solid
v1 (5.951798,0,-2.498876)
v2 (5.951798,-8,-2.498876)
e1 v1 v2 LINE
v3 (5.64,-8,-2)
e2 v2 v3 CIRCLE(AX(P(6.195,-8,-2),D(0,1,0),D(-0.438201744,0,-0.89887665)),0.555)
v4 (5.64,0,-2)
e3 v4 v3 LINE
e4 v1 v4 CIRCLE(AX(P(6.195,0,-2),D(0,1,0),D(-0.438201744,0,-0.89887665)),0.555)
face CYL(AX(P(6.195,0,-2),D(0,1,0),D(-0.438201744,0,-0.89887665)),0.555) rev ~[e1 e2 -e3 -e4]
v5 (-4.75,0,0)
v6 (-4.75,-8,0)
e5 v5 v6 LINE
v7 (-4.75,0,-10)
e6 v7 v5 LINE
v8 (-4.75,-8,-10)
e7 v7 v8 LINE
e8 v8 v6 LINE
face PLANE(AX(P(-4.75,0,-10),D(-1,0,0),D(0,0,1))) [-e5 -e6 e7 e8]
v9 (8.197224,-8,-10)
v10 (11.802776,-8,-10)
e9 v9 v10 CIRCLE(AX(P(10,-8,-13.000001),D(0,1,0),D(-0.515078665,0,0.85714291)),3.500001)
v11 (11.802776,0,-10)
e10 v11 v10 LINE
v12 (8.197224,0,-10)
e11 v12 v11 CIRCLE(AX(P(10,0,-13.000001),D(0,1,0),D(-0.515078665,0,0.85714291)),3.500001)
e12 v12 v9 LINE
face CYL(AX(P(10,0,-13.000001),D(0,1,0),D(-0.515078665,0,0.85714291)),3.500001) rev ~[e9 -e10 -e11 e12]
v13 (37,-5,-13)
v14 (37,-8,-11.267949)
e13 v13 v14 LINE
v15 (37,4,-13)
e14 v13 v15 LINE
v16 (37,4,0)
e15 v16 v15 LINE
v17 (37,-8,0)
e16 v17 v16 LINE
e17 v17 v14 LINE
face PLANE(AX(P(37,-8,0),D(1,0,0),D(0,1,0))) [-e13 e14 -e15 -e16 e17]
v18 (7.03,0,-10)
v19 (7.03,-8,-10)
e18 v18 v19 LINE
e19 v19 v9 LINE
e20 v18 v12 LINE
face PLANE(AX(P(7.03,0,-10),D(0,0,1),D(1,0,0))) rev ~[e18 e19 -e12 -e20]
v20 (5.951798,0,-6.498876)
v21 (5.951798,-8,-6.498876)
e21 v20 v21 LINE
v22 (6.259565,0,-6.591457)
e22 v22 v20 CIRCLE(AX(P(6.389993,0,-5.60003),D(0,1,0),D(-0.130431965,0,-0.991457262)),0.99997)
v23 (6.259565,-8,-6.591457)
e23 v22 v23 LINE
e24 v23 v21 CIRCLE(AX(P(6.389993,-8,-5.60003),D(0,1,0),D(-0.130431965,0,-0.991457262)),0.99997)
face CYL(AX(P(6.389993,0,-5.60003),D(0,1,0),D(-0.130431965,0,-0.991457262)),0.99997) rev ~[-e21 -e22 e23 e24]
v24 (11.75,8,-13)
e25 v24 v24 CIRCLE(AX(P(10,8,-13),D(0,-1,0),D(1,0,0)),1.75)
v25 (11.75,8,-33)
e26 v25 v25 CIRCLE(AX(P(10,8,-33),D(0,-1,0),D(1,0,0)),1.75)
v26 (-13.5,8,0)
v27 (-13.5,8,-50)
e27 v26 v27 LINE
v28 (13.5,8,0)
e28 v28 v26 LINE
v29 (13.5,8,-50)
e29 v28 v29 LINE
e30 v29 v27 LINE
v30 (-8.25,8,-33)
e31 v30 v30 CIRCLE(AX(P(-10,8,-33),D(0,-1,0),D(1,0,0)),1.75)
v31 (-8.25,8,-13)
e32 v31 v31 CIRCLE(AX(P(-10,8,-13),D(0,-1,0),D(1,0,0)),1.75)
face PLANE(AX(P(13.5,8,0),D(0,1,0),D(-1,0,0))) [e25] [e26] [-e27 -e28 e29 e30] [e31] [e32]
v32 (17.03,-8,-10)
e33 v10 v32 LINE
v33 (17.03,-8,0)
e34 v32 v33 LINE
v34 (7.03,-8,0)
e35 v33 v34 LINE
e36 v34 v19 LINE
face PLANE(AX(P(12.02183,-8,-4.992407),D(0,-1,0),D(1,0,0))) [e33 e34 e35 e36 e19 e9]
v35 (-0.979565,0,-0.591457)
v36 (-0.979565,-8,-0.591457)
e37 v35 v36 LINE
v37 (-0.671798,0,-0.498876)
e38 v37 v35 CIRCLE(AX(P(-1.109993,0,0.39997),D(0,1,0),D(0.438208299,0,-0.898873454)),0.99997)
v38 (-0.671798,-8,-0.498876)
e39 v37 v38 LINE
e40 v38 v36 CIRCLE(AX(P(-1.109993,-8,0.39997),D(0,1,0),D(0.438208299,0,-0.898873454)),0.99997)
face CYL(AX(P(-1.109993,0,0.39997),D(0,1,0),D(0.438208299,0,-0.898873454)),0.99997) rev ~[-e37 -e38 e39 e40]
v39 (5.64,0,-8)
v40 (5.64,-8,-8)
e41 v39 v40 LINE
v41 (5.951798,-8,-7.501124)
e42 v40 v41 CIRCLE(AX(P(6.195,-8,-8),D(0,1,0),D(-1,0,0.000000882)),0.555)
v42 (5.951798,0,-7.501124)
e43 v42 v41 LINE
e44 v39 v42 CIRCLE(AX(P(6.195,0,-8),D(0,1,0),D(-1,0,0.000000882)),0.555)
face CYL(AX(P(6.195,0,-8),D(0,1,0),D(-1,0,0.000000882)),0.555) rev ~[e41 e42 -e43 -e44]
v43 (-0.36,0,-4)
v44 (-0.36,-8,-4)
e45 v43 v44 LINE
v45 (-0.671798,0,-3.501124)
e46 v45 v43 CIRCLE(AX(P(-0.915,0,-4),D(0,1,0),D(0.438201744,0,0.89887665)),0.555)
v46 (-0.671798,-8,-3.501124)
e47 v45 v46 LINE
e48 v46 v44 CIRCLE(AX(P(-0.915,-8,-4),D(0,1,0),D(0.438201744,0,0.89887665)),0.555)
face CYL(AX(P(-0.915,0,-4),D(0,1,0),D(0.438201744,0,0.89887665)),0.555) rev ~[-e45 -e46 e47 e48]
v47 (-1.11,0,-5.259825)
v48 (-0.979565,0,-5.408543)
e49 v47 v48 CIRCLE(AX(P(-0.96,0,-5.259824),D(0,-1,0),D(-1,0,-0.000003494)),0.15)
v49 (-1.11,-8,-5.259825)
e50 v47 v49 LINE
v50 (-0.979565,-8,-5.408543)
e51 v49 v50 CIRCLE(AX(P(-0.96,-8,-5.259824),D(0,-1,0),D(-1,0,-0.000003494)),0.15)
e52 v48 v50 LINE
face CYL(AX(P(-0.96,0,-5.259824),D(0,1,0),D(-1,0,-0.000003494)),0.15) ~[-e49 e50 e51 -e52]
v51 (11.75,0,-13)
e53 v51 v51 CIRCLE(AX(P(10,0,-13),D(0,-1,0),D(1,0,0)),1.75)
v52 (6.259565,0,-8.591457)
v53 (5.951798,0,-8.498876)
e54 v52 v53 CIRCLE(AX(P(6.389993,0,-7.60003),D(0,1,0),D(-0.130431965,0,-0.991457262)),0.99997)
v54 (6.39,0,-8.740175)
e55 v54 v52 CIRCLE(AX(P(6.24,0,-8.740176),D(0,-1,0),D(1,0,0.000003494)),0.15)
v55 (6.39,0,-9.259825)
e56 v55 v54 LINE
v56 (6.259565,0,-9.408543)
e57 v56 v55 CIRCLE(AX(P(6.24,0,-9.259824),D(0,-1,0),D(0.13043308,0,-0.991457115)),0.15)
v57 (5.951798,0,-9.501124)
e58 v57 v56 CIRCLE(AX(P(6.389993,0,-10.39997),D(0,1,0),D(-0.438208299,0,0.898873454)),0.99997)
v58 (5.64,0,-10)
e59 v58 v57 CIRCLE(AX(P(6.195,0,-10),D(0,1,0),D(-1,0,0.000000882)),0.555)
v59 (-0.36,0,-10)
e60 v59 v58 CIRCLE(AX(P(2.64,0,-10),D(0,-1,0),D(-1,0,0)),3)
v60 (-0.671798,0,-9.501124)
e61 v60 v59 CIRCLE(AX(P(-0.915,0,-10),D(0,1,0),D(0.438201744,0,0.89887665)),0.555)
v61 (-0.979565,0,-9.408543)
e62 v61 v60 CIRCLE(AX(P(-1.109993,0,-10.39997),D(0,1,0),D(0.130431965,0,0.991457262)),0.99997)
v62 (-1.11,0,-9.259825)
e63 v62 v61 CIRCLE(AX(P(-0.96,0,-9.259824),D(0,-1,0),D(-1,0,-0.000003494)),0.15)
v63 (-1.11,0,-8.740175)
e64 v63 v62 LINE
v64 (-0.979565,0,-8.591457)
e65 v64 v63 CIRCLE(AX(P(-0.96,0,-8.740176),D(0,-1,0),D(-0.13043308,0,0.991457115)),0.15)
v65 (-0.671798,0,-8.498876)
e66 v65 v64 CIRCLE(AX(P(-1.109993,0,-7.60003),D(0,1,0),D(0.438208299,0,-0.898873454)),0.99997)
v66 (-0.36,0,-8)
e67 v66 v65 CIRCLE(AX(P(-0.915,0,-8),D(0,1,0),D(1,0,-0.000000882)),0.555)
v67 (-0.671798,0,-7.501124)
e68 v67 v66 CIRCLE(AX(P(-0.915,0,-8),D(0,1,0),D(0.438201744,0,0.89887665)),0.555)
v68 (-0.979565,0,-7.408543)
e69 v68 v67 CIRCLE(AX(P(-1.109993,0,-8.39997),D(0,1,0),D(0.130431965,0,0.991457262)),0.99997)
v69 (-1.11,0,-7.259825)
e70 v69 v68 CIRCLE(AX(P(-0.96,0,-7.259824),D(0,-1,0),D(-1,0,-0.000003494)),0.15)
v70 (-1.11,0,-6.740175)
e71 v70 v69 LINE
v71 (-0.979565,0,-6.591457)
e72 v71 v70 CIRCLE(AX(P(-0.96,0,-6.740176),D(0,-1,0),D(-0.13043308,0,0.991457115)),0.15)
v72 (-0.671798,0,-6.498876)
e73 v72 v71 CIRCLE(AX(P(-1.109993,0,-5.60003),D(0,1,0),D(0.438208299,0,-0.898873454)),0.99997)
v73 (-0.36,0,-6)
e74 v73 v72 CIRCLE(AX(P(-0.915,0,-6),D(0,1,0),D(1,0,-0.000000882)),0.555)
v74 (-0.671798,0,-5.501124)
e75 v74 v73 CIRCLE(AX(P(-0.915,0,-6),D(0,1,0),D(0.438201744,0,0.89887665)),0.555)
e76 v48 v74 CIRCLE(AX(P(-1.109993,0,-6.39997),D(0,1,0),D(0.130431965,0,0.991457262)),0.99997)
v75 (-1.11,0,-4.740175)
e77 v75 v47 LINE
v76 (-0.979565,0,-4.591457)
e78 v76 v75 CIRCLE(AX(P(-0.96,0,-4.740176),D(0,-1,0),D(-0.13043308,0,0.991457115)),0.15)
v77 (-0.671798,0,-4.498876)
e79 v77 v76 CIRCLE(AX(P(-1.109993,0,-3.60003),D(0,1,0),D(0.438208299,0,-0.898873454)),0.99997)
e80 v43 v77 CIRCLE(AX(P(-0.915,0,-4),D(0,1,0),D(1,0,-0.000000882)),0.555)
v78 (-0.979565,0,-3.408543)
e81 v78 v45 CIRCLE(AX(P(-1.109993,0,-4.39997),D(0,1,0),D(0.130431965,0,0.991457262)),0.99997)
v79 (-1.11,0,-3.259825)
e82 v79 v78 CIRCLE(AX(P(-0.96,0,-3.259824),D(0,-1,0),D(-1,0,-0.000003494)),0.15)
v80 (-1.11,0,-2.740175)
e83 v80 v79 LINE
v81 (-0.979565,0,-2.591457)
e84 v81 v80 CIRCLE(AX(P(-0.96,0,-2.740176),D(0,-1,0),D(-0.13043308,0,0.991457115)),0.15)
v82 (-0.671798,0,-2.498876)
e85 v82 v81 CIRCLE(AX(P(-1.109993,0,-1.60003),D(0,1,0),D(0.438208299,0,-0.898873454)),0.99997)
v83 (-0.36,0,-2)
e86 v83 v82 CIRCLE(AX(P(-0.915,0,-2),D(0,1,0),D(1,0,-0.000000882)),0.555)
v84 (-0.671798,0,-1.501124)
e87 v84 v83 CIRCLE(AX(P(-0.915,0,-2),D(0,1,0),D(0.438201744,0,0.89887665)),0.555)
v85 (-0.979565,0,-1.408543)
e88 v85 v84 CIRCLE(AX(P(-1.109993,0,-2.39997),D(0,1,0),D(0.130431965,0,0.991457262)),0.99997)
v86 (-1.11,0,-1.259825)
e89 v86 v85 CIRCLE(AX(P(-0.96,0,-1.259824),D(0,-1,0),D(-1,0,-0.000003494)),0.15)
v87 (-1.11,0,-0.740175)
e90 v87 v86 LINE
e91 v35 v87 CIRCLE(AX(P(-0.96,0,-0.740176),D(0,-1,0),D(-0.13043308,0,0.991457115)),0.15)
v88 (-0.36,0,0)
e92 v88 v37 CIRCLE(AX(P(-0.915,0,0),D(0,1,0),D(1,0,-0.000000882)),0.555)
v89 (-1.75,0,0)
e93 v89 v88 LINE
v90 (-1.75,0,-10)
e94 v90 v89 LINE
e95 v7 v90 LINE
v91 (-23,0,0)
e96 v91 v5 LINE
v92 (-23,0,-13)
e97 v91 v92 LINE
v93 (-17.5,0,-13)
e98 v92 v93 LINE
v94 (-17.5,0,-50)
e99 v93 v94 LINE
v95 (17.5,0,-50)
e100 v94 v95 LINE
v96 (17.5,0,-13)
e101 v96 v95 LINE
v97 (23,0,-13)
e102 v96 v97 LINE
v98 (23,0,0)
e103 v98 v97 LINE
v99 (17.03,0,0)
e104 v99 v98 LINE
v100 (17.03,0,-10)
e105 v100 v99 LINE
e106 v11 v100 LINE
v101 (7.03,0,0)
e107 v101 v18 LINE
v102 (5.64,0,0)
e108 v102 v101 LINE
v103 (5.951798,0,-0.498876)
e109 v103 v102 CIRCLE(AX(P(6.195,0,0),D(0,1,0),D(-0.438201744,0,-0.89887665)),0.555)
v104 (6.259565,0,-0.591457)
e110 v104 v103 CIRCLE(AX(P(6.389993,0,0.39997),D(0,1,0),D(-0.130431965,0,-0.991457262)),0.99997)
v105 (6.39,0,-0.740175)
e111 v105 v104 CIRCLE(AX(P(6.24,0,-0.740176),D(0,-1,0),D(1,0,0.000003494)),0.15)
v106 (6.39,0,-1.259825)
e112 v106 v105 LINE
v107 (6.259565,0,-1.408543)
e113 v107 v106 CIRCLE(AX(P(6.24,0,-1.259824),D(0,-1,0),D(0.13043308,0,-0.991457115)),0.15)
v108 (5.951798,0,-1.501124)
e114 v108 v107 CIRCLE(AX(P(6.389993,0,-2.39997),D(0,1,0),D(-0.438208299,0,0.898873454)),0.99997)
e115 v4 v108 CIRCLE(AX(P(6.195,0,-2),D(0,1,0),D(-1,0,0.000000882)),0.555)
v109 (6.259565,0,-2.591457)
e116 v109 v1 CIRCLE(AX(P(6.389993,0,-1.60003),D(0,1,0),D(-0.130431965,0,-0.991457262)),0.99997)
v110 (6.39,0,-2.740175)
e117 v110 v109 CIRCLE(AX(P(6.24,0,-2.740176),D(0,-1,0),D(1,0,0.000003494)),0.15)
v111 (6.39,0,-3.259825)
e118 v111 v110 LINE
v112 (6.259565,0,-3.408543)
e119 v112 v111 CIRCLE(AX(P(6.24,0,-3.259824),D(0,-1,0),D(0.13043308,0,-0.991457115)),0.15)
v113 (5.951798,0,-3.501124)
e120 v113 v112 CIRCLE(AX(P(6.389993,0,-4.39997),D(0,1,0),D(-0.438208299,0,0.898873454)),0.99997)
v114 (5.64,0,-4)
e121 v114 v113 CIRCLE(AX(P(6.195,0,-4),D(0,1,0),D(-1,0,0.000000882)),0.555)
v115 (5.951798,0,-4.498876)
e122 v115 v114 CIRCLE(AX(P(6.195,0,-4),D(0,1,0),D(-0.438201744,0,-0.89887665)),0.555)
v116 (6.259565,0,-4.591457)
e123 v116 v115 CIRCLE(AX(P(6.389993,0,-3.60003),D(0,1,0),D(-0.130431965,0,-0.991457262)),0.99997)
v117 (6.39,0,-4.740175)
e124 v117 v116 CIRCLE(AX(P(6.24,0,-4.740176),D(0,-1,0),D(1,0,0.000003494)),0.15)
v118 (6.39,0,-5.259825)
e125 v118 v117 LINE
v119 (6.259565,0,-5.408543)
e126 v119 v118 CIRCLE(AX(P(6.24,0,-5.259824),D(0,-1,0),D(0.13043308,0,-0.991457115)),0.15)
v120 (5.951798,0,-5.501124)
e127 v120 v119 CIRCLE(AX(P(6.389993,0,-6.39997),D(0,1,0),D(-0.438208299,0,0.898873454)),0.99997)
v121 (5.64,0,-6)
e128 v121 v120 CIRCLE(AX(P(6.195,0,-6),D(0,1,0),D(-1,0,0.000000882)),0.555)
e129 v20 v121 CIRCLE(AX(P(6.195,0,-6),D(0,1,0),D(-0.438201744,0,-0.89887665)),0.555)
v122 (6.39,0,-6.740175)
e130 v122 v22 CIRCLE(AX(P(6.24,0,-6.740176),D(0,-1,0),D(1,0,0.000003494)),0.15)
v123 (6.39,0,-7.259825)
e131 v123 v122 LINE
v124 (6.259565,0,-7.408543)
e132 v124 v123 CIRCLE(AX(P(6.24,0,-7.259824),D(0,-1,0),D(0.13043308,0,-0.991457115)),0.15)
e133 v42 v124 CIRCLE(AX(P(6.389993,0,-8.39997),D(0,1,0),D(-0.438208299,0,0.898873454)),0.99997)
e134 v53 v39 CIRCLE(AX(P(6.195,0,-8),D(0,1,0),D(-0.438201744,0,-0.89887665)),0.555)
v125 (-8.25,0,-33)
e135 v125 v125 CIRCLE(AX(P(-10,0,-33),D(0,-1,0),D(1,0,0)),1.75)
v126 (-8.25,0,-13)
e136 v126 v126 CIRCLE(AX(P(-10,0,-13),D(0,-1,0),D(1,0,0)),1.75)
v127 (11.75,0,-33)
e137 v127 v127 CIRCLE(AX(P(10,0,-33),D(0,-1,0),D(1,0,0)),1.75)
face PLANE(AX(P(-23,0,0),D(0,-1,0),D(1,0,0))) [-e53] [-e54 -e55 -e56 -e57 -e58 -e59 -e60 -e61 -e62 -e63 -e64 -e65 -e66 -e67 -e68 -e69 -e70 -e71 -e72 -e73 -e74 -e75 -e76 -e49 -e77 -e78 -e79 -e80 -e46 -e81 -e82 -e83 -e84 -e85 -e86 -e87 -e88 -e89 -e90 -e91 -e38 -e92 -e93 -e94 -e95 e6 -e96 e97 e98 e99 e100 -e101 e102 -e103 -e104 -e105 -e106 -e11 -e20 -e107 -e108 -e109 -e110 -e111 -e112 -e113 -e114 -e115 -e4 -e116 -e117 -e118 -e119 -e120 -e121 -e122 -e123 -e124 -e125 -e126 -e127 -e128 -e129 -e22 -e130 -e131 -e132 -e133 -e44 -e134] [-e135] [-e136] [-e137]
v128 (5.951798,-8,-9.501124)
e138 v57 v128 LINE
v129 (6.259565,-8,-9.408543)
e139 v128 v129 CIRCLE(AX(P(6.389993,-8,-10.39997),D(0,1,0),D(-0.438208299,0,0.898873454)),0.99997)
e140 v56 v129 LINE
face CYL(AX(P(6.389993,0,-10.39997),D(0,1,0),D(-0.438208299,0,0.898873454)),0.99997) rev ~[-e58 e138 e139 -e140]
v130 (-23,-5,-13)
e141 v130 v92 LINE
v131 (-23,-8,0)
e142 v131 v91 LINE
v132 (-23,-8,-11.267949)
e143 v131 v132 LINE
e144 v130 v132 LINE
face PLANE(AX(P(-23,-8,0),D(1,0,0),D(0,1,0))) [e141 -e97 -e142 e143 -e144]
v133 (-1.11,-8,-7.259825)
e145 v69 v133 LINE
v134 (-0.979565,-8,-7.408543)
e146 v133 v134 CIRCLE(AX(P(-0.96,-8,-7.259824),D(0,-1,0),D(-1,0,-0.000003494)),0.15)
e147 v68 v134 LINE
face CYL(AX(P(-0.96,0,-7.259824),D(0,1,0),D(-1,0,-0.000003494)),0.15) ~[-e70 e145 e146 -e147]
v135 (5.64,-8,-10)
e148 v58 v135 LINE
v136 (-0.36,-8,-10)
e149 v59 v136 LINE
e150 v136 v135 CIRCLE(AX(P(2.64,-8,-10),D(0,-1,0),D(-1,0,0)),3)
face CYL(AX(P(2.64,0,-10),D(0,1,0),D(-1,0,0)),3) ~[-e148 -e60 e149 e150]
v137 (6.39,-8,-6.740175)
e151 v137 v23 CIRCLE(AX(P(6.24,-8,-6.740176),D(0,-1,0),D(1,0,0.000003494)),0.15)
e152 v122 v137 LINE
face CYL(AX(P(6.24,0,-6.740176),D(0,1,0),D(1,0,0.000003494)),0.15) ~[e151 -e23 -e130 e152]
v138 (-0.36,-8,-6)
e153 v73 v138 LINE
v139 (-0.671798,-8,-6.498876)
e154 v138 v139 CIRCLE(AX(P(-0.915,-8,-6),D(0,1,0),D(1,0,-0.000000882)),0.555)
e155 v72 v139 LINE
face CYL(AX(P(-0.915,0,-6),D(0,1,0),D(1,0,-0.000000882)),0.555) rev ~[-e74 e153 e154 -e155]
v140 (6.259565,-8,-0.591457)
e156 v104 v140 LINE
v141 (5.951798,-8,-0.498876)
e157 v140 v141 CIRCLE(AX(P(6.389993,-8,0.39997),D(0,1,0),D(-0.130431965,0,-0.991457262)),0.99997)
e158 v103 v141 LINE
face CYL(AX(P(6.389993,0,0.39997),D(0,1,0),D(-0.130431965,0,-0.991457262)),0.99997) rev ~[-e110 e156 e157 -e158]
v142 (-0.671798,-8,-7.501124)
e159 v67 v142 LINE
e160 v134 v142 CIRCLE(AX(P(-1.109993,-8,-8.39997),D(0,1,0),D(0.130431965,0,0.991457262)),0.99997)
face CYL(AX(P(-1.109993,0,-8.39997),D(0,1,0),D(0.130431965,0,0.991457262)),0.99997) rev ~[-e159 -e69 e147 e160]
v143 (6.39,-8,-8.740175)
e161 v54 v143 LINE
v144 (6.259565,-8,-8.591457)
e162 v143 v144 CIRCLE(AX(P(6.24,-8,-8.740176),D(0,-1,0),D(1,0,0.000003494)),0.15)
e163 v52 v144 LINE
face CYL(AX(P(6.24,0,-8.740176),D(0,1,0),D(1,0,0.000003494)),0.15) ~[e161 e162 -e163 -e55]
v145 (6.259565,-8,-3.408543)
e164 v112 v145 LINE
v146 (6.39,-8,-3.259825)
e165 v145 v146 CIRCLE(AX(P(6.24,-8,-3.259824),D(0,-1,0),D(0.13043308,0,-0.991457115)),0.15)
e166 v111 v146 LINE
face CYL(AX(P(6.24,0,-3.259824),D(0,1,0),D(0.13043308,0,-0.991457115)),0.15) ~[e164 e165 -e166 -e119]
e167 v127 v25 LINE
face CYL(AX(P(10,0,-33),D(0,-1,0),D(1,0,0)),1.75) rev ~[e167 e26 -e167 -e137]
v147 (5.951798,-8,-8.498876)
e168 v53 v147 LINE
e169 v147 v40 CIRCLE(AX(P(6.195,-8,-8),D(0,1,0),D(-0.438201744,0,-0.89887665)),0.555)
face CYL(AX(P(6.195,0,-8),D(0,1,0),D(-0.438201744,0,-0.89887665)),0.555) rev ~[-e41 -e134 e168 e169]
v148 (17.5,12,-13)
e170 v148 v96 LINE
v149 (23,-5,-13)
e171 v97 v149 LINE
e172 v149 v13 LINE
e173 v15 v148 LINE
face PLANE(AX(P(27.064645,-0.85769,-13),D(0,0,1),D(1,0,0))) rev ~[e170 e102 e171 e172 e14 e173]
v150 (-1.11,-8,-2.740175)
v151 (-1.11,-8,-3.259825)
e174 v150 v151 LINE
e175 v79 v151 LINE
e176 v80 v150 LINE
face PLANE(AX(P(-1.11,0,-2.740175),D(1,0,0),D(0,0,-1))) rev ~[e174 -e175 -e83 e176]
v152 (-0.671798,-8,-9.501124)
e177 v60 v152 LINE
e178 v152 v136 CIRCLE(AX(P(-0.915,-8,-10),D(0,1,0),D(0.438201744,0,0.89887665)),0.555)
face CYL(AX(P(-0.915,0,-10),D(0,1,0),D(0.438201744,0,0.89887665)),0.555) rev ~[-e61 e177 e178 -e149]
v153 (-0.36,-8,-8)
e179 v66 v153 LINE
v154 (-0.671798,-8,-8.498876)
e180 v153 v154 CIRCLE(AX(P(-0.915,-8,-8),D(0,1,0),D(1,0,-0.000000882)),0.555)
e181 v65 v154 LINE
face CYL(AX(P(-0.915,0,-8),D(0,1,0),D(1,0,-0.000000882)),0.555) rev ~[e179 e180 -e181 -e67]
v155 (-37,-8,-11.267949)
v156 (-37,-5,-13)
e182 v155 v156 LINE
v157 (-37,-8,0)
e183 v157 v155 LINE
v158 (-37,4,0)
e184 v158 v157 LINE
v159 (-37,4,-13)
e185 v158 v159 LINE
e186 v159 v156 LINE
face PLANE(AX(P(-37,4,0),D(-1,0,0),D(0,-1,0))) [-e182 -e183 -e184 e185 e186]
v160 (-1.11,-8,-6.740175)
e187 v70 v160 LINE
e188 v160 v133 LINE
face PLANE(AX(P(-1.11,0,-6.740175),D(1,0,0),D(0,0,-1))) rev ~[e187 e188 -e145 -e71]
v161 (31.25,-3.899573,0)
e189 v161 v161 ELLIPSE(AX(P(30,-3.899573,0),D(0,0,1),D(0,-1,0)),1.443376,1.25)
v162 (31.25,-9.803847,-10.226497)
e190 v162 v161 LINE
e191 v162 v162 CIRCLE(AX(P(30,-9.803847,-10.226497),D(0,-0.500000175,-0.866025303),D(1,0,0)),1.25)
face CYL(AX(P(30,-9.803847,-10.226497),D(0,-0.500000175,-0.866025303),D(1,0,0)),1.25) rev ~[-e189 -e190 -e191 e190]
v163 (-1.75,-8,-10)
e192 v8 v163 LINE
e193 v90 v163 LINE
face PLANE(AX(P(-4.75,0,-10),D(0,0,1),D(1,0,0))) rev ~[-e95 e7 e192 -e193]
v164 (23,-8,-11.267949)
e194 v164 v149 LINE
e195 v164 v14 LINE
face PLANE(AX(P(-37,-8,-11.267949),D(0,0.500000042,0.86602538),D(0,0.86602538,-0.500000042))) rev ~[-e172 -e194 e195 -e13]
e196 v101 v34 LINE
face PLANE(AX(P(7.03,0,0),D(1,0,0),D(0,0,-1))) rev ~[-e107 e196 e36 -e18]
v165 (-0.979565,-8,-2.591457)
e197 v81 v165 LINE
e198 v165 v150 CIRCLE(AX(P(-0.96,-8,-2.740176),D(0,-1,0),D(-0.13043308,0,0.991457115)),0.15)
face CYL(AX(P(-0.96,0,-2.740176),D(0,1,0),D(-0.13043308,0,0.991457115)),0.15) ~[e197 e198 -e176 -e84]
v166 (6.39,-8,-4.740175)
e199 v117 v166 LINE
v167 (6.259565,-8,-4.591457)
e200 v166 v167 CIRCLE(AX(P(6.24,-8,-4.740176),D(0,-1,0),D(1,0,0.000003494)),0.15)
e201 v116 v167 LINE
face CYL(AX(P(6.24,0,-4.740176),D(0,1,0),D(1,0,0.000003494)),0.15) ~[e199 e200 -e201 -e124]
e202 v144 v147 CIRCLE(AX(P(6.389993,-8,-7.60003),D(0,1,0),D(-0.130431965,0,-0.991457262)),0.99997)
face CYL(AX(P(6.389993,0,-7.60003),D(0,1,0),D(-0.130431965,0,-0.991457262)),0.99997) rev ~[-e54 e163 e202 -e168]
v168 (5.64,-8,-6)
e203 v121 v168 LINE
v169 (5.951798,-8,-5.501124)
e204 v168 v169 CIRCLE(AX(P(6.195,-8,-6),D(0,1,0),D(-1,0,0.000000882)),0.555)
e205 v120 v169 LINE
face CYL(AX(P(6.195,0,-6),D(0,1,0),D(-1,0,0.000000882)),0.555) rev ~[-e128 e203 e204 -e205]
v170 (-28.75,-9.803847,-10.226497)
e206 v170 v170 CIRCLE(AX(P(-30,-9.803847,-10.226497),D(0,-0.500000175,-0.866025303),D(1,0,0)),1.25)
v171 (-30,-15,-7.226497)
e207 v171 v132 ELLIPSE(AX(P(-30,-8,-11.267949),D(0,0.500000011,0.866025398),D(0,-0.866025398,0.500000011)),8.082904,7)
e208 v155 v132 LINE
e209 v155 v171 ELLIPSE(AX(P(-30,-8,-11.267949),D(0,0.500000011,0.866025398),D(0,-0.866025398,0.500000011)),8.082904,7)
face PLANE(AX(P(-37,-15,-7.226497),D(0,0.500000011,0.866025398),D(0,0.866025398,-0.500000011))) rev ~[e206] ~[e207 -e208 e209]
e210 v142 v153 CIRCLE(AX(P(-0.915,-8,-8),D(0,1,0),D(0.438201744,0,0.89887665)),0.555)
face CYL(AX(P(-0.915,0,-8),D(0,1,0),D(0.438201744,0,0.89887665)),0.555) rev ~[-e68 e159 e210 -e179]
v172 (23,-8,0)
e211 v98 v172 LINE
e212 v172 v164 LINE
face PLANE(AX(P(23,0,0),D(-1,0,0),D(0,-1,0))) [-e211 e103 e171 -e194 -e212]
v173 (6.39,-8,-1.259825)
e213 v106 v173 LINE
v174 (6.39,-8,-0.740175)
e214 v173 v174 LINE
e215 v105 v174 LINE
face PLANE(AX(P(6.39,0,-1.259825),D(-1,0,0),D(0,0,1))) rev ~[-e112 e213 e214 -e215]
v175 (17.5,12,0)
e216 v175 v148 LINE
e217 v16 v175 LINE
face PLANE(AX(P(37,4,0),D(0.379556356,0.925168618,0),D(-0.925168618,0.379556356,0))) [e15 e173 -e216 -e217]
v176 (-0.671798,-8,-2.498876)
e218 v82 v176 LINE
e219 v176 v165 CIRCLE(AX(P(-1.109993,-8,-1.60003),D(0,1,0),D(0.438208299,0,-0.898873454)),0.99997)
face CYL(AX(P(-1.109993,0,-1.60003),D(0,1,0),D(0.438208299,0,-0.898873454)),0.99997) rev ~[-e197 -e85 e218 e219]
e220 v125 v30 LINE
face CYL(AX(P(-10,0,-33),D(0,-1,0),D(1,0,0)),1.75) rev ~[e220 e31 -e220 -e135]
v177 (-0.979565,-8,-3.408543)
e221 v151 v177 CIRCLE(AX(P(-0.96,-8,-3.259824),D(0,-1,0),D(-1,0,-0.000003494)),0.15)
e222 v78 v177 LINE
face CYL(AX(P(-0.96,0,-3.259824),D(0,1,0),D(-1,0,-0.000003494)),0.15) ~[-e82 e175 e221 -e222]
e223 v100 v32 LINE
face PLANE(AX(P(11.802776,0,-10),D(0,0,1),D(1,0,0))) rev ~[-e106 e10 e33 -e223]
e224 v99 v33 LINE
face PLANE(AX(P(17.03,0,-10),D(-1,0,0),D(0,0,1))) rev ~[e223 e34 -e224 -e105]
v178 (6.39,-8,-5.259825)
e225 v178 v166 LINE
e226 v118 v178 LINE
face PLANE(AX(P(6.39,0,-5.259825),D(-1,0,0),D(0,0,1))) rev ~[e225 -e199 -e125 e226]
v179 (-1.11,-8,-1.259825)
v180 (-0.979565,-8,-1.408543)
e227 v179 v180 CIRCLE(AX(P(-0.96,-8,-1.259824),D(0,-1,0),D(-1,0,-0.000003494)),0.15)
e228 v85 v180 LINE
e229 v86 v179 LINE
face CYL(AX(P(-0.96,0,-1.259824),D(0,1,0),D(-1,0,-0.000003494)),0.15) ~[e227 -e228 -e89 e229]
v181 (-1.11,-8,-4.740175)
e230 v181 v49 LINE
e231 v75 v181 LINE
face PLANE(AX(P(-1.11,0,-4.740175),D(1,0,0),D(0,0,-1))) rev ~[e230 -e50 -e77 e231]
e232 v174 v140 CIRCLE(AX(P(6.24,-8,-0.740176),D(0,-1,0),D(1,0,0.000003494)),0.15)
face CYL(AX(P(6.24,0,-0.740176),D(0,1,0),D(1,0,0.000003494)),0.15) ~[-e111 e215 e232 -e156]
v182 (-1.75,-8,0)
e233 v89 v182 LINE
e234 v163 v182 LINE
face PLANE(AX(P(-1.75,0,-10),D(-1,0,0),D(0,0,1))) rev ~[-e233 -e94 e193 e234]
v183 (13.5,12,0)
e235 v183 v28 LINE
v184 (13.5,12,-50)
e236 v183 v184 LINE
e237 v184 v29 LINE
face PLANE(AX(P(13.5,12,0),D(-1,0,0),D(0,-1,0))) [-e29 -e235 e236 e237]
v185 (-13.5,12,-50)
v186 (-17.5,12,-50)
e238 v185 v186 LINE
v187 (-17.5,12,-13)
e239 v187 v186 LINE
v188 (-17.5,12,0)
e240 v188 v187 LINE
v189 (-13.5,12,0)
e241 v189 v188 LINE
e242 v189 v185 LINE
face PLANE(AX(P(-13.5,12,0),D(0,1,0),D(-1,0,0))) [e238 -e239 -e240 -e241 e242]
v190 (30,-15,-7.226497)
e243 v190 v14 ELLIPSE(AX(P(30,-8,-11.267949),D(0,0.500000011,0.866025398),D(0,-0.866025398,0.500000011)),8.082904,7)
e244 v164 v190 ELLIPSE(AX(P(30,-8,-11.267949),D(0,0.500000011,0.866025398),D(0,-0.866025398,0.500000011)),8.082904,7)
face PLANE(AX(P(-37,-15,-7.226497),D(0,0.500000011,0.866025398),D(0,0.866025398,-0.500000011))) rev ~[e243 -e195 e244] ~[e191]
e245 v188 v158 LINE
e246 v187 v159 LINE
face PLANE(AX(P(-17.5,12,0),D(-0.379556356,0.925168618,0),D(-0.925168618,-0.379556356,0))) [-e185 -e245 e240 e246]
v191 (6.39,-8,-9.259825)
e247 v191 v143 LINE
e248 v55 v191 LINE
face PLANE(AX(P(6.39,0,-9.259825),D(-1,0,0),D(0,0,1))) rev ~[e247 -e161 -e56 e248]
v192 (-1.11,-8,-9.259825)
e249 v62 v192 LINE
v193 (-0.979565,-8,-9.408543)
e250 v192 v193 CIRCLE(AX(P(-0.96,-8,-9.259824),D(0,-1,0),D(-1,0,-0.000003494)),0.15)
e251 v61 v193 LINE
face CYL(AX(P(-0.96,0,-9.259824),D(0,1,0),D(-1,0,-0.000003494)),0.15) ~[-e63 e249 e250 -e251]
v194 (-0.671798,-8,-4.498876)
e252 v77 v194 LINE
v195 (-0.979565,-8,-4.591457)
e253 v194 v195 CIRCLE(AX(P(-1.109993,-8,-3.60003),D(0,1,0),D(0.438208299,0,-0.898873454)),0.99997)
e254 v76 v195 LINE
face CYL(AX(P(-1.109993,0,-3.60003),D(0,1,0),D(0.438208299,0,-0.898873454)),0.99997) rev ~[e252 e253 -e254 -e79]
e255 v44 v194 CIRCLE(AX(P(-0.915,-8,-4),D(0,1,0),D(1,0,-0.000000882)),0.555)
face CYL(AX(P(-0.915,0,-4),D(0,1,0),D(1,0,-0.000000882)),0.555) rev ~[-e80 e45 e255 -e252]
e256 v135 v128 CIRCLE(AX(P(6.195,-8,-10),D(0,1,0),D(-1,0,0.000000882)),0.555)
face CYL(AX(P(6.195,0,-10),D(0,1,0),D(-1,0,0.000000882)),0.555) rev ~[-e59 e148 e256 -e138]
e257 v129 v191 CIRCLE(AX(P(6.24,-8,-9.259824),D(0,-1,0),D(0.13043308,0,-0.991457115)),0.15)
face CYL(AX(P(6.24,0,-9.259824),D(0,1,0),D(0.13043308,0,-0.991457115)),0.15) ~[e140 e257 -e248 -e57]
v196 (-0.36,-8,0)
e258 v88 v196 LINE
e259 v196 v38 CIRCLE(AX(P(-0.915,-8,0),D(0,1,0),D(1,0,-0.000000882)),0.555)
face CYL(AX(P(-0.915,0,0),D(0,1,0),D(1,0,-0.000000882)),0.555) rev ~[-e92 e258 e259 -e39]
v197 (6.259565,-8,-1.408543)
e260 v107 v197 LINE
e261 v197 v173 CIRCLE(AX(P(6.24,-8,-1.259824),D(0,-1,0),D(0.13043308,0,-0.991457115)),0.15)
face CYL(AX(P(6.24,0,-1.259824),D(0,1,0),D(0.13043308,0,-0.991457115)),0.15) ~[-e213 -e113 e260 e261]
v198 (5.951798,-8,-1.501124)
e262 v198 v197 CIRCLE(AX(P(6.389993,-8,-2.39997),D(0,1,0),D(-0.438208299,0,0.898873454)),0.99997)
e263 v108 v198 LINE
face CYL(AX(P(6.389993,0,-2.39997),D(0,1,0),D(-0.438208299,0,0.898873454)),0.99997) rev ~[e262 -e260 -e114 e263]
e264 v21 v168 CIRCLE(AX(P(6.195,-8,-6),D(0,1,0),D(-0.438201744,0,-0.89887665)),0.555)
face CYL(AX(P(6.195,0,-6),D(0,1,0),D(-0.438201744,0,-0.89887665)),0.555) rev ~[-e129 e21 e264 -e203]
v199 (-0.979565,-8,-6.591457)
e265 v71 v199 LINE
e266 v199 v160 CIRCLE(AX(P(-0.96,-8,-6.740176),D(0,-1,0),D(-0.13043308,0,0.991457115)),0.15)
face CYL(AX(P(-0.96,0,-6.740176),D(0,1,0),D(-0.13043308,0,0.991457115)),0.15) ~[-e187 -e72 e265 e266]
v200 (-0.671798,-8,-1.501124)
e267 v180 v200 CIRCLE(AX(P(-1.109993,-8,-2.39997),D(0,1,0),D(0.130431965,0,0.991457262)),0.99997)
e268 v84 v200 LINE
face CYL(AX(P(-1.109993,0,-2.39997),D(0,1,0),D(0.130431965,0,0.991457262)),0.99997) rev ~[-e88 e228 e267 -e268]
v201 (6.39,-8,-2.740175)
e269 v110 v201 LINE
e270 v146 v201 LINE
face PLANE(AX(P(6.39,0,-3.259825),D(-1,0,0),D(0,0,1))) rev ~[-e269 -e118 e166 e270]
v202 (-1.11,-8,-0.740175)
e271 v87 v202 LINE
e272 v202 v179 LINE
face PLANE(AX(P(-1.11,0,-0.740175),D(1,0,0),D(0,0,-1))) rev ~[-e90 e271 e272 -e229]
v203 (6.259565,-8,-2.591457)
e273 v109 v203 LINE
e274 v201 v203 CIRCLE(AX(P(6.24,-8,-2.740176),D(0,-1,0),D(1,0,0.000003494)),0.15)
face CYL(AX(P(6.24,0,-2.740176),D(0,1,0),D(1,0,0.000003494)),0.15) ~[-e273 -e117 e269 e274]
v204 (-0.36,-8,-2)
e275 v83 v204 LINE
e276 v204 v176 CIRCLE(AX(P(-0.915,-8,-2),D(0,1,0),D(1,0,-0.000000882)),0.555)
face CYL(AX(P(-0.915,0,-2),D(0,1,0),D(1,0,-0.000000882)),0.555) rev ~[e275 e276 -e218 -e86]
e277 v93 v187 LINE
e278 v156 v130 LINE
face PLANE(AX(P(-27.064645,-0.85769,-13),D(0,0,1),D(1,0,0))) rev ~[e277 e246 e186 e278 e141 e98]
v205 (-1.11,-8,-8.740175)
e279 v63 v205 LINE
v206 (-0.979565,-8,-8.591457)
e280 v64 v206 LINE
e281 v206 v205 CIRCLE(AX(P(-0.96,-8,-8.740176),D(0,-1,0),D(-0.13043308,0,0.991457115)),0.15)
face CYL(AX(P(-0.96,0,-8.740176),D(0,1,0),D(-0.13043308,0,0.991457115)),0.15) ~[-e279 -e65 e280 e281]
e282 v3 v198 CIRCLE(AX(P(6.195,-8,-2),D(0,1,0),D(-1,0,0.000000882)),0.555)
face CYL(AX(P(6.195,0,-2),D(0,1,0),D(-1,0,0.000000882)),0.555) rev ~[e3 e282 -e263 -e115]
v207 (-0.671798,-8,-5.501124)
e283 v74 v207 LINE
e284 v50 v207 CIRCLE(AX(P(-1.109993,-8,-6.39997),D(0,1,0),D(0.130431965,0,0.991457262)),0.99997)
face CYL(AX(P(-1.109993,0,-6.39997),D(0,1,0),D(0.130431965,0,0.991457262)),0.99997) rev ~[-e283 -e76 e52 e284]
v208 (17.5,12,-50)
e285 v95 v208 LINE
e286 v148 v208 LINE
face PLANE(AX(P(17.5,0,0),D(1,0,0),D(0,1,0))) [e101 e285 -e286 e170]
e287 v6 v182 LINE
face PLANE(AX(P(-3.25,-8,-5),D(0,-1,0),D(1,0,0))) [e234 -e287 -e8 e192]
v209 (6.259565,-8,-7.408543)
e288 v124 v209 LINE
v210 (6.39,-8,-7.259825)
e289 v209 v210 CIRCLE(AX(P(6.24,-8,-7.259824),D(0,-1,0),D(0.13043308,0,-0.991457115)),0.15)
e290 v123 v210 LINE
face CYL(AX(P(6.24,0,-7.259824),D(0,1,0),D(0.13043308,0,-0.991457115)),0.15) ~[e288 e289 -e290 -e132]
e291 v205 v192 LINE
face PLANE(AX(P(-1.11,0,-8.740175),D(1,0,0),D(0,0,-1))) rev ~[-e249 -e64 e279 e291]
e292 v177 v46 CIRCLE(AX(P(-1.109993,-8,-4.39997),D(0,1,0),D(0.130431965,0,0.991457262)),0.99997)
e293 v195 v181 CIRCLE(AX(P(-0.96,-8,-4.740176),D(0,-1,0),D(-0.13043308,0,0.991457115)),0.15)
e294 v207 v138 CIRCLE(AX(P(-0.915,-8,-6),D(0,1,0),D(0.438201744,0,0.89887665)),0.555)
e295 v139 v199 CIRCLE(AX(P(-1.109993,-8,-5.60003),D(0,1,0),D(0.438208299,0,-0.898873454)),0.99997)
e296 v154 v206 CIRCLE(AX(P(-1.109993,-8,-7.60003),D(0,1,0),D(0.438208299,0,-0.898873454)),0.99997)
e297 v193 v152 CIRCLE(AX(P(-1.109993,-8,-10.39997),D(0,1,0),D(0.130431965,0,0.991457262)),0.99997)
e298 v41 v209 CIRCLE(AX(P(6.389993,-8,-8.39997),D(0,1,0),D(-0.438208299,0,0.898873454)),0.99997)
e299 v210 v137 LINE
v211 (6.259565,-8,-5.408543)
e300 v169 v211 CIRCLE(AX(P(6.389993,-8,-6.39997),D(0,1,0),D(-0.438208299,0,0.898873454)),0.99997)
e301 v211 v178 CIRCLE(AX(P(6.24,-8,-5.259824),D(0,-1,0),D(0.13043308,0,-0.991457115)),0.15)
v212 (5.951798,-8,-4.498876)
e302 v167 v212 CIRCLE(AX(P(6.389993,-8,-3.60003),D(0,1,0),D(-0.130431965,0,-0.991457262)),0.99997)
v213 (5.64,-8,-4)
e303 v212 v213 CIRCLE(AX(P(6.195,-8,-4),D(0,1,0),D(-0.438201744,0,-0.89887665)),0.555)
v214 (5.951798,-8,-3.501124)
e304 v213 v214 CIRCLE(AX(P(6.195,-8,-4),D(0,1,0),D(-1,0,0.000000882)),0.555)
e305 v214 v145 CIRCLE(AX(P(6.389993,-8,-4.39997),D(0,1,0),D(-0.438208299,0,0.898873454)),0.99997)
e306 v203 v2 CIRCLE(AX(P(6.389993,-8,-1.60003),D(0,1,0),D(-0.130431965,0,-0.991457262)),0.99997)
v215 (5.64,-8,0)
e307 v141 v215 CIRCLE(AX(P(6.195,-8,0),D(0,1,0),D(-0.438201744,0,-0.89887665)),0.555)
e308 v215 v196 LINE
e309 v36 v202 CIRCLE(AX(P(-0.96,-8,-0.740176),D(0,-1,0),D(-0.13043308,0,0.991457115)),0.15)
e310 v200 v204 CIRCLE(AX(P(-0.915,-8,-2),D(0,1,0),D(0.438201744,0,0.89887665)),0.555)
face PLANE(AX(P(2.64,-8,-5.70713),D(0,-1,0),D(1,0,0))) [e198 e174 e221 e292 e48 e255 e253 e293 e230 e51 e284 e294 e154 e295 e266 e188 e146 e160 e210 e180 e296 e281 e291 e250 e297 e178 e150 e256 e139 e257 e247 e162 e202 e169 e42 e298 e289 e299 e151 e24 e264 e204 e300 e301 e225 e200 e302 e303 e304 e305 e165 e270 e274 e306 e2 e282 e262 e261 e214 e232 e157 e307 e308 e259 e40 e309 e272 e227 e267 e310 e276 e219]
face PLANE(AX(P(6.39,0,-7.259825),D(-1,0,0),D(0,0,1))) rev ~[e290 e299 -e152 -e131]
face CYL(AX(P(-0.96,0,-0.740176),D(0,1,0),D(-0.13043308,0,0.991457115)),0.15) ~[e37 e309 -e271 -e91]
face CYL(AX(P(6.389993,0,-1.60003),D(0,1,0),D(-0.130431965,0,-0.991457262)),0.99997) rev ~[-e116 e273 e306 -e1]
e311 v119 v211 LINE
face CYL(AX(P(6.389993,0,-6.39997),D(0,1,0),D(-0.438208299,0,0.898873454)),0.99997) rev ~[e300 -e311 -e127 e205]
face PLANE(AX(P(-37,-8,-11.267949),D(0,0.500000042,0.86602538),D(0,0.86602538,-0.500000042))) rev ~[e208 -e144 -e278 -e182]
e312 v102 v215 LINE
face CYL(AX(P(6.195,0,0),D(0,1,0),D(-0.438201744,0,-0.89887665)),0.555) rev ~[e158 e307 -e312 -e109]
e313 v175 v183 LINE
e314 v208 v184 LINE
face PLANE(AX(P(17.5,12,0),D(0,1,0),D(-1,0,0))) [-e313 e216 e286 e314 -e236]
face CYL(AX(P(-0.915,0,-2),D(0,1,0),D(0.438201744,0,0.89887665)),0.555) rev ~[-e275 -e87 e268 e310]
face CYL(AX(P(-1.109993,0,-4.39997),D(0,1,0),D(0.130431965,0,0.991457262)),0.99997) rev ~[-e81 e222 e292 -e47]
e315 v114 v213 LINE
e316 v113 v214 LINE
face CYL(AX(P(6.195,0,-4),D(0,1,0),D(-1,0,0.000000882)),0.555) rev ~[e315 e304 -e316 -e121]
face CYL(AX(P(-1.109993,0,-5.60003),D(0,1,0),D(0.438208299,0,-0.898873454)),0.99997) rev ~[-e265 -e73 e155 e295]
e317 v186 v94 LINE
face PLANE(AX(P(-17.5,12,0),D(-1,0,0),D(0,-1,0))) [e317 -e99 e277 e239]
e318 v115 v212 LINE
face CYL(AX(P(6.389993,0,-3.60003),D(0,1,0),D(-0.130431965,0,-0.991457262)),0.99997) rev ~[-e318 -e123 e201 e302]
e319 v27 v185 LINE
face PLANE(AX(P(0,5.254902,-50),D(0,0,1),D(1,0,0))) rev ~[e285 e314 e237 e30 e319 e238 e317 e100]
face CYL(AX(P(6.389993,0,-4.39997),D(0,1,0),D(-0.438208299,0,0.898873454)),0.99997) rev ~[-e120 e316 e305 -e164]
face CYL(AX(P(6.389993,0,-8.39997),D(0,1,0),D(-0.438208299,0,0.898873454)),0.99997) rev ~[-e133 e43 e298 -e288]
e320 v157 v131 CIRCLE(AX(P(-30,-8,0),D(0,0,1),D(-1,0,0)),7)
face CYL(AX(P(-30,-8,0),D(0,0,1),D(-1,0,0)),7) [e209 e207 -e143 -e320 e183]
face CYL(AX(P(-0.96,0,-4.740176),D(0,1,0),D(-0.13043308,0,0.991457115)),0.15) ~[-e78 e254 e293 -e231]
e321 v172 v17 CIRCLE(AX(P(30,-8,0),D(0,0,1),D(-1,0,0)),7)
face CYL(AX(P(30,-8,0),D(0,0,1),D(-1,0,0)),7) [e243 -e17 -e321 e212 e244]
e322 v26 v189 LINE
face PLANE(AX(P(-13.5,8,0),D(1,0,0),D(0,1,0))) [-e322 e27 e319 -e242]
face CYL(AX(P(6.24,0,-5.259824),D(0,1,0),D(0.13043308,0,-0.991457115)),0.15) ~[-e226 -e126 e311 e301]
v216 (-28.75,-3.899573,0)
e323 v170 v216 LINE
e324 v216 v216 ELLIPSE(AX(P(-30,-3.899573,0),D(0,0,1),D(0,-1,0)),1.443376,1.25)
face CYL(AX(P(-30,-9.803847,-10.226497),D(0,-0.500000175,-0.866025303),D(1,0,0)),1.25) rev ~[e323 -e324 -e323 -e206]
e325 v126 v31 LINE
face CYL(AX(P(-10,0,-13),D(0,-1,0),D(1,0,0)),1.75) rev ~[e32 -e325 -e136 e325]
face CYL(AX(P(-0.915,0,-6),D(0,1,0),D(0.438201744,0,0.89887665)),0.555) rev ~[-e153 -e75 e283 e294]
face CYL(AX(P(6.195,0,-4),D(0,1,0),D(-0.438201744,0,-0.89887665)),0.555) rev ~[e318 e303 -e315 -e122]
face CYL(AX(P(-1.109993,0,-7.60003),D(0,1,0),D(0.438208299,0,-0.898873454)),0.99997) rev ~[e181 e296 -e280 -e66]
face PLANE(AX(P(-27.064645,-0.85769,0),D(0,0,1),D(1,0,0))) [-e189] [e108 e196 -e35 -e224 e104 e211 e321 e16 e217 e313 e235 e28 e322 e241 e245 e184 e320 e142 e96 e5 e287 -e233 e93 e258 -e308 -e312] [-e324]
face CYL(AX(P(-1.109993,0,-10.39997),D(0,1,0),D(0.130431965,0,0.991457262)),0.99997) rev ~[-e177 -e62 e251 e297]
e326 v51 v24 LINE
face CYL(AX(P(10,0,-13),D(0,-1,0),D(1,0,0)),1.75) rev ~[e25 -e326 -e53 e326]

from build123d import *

# Parameters (mm, degrees)
F1_DEPTH = 50
F2_DEPTH = 13
F4_DEPTH = 74.001
F5_R     = 1.25
F6_DEPTH = 15
F7_W     = 3
F7_H     = 10
F8_DEPTH = 8
F7_R     = 1.75
F9_DEPTH = 25


with BuildPart() as f1:
    # F0 (on Top) → F1 (new body)
    with BuildSketch(Plane.XY):
        Polygon((-17.5, 12), (-17.5, 0), (0, 0), (17.5, 0), (17.5, 12), (13.5, 12), (13.5, 8), (-13.5, 8), (-13.5, 12), align=None)
    extrude(amount=-F1_DEPTH)

    # F0 (on Top) → F2 (join)
    with BuildSketch(Plane.XY):
        with BuildLine():
            Line((-37, 0), (-37, -8))
            ThreePointArc((-37, -8), (-30, -15), (-23, -8))
            Line((-23, -8), (-23, 0))
            Line((-23, 0), (-17.5, 0))
            Line((-17.5, 0), (-17.5, 12))
            Line((-17.5, 12), (-37, 4))
            Line((-37, 4), (-37, 0))
        make_face()
        with BuildLine():
            Line((17.5, 12), (17.5, 0))
            Line((17.5, 0), (23, 0))
            Line((23, 0), (23, -8))
            ThreePointArc((23, -8), (30, -15), (37, -8))
            Line((37, -8), (37, 0))
            Line((37, 0), (37, 4))
            Line((37, 4), (17.5, 12))
        make_face()
    extrude(amount=-F2_DEPTH)

    # F3 (on face) → F4 (cut, through all)
    with BuildSketch(Plane(origin=(-37, 0, 0), x_dir=(0, -1, 0), z_dir=(-1, 0, 0))):
        Polygon((8, -11.267949), (8, -13), (15, -13), (15, -7.226497), align=None)
        Polygon((5, -13), (8, -13), (8, -11.267949), align=None)
    extrude(amount=-F4_DEPTH, mode=Mode.SUBTRACT)

    # F5 (on face) → F6 (cut)
    with BuildSketch(Plane(origin=(0, -6.879165, -11.915064), x_dir=(1, 0, 0), z_dir=(0, -0.5, -0.866025))):
        with Locations((-30, 3.377132)):
            Circle(F5_R)
        with Locations((30, 3.377132)):
            Circle(F5_R)
    extrude(amount=-F6_DEPTH, mode=Mode.SUBTRACT)

    # F7 (on face) → F8 (join)
    with BuildSketch(Plane.XZ):
        with BuildLine():
            Line((17.03, 0), (7.03, 0))
            Line((7.03, 0), (7.03, -10))
            Line((7.03, -10), (8.197224, -10))
            ThreePointArc((8.197224, -10), (10, -9.5), (11.802776, -10))
            Line((11.802776, -10), (17.03, -10))
            Line((17.03, -10), (17.03, 0))
        make_face()
        with BuildLine():
            Line((6.39, -1.259825), (6.39, -1))
            Line((6.39, -1), (6.39, -0.740175))
            ThreePointArc((6.39, -0.740175), (6.352771, -0.641268), (6.259565, -0.591457))
            ThreePointArc((6.259565, -0.591457), (6.101938, -0.557612), (5.951798, -0.498876))
            ThreePointArc((5.951798, -0.498876), (5.724361, -0.294149), (5.64, 0))
            Line((5.64, 0), (-0.36, 0))
            ThreePointArc((-0.36, 0), (-0.444361, -0.294149), (-0.671798, -0.498876))
            ThreePointArc((-0.671798, -0.498876), (-0.821938, -0.557612), (-0.979565, -0.591457))
            ThreePointArc((-0.979565, -0.591457), (-1.072771, -0.641268), (-1.11, -0.740175))
            Line((-1.11, -0.740175), (-1.11, -1))
            Line((-1.11, -1), (-1.11, -1.259825))
            ThreePointArc((-1.11, -1.259825), (-1.072771, -1.358732), (-0.979565, -1.408543))
            ThreePointArc((-0.979565, -1.408543), (-0.821938, -1.442388), (-0.671798, -1.501124))
            ThreePointArc((-0.671798, -1.501124), (-0.444361, -1.705851), (-0.36, -2))
            ThreePointArc((-0.36, -2), (-0.444361, -2.294149), (-0.671798, -2.498876))
            ThreePointArc((-0.671798, -2.498876), (-0.821938, -2.557612), (-0.979565, -2.591457))
            ThreePointArc((-0.979565, -2.591457), (-1.072771, -2.641268), (-1.11, -2.740175))
            Line((-1.11, -2.740175), (-1.11, -3))
            Line((-1.11, -3), (-1.11, -3.259825))
            ThreePointArc((-1.11, -3.259825), (-1.072771, -3.358732), (-0.979565, -3.408543))
            ThreePointArc((-0.979565, -3.408543), (-0.821938, -3.442388), (-0.671798, -3.501124))
            ThreePointArc((-0.671798, -3.501124), (-0.444361, -3.705851), (-0.36, -4))
            ThreePointArc((-0.36, -4), (-0.444361, -4.294149), (-0.671798, -4.498876))
            ThreePointArc((-0.671798, -4.498876), (-0.821938, -4.557612), (-0.979565, -4.591457))
            ThreePointArc((-0.979565, -4.591457), (-1.072771, -4.641268), (-1.11, -4.740175))
            Line((-1.11, -4.740175), (-1.11, -5))
            Line((-1.11, -5), (-1.11, -5.259825))
            ThreePointArc((-1.11, -5.259825), (-1.072771, -5.358732), (-0.979565, -5.408543))
            ThreePointArc((-0.979565, -5.408543), (-0.821938, -5.442388), (-0.671798, -5.501124))
            ThreePointArc((-0.671798, -5.501124), (-0.444361, -5.705851), (-0.36, -6))
            ThreePointArc((-0.36, -6), (-0.444361, -6.294149), (-0.671798, -6.498876))
            ThreePointArc((-0.671798, -6.498876), (-0.821938, -6.557612), (-0.979565, -6.591457))
            ThreePointArc((-0.979565, -6.591457), (-1.072771, -6.641268), (-1.11, -6.740175))
            Line((-1.11, -6.740175), (-1.11, -7))
            Line((-1.11, -7), (-1.11, -7.259825))
            ThreePointArc((-1.11, -7.259825), (-1.072771, -7.358732), (-0.979565, -7.408543))
            ThreePointArc((-0.979565, -7.408543), (-0.821938, -7.442388), (-0.671798, -7.501124))
            ThreePointArc((-0.671798, -7.501124), (-0.444361, -7.705851), (-0.36, -8))
            ThreePointArc((-0.36, -8), (-0.444361, -8.294149), (-0.671798, -8.498876))
            ThreePointArc((-0.671798, -8.498876), (-0.821938, -8.557612), (-0.979565, -8.591457))
            ThreePointArc((-0.979565, -8.591457), (-1.072771, -8.641268), (-1.11, -8.740175))
            Line((-1.11, -8.740175), (-1.11, -9))
            Line((-1.11, -9), (-1.11, -9.259825))
            ThreePointArc((-1.11, -9.259825), (-1.072771, -9.358732), (-0.979565, -9.408543))
            ThreePointArc((-0.979565, -9.408543), (-0.821938, -9.442388), (-0.671798, -9.501124))
            ThreePointArc((-0.671798, -9.501124), (-0.444361, -9.705851), (-0.36, -10))
            ThreePointArc((-0.36, -10), (2.64, -13), (5.64, -10))
            ThreePointArc((5.64, -10), (5.724361, -9.705851), (5.951798, -9.501124))
            ThreePointArc((5.951798, -9.501124), (6.101938, -9.442388), (6.259565, -9.408543))
            ThreePointArc((6.259565, -9.408543), (6.352771, -9.358732), (6.39, -9.259825))
            Line((6.39, -9.259825), (6.39, -9))
            Line((6.39, -9), (6.39, -8.740175))
            ThreePointArc((6.39, -8.740175), (6.352771, -8.641268), (6.259565, -8.591457))
            ThreePointArc((6.259565, -8.591457), (6.101938, -8.557612), (5.951798, -8.498876))
            ThreePointArc((5.951798, -8.498876), (5.724361, -8.294149), (5.64, -8))
            ThreePointArc((5.64, -8), (5.724361, -7.705851), (5.951798, -7.501124))
            ThreePointArc((5.951798, -7.501124), (6.101938, -7.442388), (6.259565, -7.408543))
            ThreePointArc((6.259565, -7.408543), (6.352771, -7.358732), (6.39, -7.259825))
            Line((6.39, -7.259825), (6.39, -7))
            Line((6.39, -7), (6.39, -6.740175))
            ThreePointArc((6.39, -6.740175), (6.352771, -6.641268), (6.259565, -6.591457))
            ThreePointArc((6.259565, -6.591457), (6.101938, -6.557612), (5.951798, -6.498876))
            ThreePointArc((5.951798, -6.498876), (5.724361, -6.294149), (5.64, -6))
            ThreePointArc((5.64, -6), (5.724361, -5.705851), (5.951798, -5.501124))
            ThreePointArc((5.951798, -5.501124), (6.101938, -5.442388), (6.259565, -5.408543))
            ThreePointArc((6.259565, -5.408543), (6.352771, -5.358732), (6.39, -5.259825))
            Line((6.39, -5.259825), (6.39, -5))
            Line((6.39, -5), (6.39, -4.740175))
            ThreePointArc((6.39, -4.740175), (6.352771, -4.641268), (6.259565, -4.591457))
            ThreePointArc((6.259565, -4.591457), (6.101938, -4.557612), (5.951798, -4.498876))
            ThreePointArc((5.951798, -4.498876), (5.724361, -4.294149), (5.64, -4))
            ThreePointArc((5.64, -4), (5.724361, -3.705851), (5.951798, -3.501124))
            ThreePointArc((5.951798, -3.501124), (6.101938, -3.442388), (6.259565, -3.408543))
            ThreePointArc((6.259565, -3.408543), (6.352771, -3.358732), (6.39, -3.259825))
            Line((6.39, -3.259825), (6.39, -3))
            Line((6.39, -3), (6.39, -2.740175))
            ThreePointArc((6.39, -2.740175), (6.352771, -2.641268), (6.259565, -2.591457))
            ThreePointArc((6.259565, -2.591457), (6.101938, -2.557612), (5.951798, -2.498876))
            ThreePointArc((5.951798, -2.498876), (5.724361, -2.294149), (5.64, -2))
            ThreePointArc((5.64, -2), (5.724361, -1.705851), (5.951798, -1.501124))
            ThreePointArc((5.951798, -1.501124), (6.101938, -1.442388), (6.259565, -1.408543))
            ThreePointArc((6.259565, -1.408543), (6.352771, -1.358732), (6.39, -1.259825))
        make_face()
        with Locations((-3.25, -5)):
            Rectangle(F7_W, F7_H)
    extrude(amount=F8_DEPTH)

    # F7 (on face) → F9 (cut)
    with BuildSketch(Plane.XZ):
        with Locations((-10, -13)):
            Circle(F7_R)
        with Locations((10, -13)):
            Circle(F7_R)
        with Locations((10, -33)):
            Circle(F7_R)
        with Locations((-10, -33)):
            Circle(F7_R)
    extrude(amount=-F9_DEPTH, mode=Mode.SUBTRACT)


solid = f1.part
